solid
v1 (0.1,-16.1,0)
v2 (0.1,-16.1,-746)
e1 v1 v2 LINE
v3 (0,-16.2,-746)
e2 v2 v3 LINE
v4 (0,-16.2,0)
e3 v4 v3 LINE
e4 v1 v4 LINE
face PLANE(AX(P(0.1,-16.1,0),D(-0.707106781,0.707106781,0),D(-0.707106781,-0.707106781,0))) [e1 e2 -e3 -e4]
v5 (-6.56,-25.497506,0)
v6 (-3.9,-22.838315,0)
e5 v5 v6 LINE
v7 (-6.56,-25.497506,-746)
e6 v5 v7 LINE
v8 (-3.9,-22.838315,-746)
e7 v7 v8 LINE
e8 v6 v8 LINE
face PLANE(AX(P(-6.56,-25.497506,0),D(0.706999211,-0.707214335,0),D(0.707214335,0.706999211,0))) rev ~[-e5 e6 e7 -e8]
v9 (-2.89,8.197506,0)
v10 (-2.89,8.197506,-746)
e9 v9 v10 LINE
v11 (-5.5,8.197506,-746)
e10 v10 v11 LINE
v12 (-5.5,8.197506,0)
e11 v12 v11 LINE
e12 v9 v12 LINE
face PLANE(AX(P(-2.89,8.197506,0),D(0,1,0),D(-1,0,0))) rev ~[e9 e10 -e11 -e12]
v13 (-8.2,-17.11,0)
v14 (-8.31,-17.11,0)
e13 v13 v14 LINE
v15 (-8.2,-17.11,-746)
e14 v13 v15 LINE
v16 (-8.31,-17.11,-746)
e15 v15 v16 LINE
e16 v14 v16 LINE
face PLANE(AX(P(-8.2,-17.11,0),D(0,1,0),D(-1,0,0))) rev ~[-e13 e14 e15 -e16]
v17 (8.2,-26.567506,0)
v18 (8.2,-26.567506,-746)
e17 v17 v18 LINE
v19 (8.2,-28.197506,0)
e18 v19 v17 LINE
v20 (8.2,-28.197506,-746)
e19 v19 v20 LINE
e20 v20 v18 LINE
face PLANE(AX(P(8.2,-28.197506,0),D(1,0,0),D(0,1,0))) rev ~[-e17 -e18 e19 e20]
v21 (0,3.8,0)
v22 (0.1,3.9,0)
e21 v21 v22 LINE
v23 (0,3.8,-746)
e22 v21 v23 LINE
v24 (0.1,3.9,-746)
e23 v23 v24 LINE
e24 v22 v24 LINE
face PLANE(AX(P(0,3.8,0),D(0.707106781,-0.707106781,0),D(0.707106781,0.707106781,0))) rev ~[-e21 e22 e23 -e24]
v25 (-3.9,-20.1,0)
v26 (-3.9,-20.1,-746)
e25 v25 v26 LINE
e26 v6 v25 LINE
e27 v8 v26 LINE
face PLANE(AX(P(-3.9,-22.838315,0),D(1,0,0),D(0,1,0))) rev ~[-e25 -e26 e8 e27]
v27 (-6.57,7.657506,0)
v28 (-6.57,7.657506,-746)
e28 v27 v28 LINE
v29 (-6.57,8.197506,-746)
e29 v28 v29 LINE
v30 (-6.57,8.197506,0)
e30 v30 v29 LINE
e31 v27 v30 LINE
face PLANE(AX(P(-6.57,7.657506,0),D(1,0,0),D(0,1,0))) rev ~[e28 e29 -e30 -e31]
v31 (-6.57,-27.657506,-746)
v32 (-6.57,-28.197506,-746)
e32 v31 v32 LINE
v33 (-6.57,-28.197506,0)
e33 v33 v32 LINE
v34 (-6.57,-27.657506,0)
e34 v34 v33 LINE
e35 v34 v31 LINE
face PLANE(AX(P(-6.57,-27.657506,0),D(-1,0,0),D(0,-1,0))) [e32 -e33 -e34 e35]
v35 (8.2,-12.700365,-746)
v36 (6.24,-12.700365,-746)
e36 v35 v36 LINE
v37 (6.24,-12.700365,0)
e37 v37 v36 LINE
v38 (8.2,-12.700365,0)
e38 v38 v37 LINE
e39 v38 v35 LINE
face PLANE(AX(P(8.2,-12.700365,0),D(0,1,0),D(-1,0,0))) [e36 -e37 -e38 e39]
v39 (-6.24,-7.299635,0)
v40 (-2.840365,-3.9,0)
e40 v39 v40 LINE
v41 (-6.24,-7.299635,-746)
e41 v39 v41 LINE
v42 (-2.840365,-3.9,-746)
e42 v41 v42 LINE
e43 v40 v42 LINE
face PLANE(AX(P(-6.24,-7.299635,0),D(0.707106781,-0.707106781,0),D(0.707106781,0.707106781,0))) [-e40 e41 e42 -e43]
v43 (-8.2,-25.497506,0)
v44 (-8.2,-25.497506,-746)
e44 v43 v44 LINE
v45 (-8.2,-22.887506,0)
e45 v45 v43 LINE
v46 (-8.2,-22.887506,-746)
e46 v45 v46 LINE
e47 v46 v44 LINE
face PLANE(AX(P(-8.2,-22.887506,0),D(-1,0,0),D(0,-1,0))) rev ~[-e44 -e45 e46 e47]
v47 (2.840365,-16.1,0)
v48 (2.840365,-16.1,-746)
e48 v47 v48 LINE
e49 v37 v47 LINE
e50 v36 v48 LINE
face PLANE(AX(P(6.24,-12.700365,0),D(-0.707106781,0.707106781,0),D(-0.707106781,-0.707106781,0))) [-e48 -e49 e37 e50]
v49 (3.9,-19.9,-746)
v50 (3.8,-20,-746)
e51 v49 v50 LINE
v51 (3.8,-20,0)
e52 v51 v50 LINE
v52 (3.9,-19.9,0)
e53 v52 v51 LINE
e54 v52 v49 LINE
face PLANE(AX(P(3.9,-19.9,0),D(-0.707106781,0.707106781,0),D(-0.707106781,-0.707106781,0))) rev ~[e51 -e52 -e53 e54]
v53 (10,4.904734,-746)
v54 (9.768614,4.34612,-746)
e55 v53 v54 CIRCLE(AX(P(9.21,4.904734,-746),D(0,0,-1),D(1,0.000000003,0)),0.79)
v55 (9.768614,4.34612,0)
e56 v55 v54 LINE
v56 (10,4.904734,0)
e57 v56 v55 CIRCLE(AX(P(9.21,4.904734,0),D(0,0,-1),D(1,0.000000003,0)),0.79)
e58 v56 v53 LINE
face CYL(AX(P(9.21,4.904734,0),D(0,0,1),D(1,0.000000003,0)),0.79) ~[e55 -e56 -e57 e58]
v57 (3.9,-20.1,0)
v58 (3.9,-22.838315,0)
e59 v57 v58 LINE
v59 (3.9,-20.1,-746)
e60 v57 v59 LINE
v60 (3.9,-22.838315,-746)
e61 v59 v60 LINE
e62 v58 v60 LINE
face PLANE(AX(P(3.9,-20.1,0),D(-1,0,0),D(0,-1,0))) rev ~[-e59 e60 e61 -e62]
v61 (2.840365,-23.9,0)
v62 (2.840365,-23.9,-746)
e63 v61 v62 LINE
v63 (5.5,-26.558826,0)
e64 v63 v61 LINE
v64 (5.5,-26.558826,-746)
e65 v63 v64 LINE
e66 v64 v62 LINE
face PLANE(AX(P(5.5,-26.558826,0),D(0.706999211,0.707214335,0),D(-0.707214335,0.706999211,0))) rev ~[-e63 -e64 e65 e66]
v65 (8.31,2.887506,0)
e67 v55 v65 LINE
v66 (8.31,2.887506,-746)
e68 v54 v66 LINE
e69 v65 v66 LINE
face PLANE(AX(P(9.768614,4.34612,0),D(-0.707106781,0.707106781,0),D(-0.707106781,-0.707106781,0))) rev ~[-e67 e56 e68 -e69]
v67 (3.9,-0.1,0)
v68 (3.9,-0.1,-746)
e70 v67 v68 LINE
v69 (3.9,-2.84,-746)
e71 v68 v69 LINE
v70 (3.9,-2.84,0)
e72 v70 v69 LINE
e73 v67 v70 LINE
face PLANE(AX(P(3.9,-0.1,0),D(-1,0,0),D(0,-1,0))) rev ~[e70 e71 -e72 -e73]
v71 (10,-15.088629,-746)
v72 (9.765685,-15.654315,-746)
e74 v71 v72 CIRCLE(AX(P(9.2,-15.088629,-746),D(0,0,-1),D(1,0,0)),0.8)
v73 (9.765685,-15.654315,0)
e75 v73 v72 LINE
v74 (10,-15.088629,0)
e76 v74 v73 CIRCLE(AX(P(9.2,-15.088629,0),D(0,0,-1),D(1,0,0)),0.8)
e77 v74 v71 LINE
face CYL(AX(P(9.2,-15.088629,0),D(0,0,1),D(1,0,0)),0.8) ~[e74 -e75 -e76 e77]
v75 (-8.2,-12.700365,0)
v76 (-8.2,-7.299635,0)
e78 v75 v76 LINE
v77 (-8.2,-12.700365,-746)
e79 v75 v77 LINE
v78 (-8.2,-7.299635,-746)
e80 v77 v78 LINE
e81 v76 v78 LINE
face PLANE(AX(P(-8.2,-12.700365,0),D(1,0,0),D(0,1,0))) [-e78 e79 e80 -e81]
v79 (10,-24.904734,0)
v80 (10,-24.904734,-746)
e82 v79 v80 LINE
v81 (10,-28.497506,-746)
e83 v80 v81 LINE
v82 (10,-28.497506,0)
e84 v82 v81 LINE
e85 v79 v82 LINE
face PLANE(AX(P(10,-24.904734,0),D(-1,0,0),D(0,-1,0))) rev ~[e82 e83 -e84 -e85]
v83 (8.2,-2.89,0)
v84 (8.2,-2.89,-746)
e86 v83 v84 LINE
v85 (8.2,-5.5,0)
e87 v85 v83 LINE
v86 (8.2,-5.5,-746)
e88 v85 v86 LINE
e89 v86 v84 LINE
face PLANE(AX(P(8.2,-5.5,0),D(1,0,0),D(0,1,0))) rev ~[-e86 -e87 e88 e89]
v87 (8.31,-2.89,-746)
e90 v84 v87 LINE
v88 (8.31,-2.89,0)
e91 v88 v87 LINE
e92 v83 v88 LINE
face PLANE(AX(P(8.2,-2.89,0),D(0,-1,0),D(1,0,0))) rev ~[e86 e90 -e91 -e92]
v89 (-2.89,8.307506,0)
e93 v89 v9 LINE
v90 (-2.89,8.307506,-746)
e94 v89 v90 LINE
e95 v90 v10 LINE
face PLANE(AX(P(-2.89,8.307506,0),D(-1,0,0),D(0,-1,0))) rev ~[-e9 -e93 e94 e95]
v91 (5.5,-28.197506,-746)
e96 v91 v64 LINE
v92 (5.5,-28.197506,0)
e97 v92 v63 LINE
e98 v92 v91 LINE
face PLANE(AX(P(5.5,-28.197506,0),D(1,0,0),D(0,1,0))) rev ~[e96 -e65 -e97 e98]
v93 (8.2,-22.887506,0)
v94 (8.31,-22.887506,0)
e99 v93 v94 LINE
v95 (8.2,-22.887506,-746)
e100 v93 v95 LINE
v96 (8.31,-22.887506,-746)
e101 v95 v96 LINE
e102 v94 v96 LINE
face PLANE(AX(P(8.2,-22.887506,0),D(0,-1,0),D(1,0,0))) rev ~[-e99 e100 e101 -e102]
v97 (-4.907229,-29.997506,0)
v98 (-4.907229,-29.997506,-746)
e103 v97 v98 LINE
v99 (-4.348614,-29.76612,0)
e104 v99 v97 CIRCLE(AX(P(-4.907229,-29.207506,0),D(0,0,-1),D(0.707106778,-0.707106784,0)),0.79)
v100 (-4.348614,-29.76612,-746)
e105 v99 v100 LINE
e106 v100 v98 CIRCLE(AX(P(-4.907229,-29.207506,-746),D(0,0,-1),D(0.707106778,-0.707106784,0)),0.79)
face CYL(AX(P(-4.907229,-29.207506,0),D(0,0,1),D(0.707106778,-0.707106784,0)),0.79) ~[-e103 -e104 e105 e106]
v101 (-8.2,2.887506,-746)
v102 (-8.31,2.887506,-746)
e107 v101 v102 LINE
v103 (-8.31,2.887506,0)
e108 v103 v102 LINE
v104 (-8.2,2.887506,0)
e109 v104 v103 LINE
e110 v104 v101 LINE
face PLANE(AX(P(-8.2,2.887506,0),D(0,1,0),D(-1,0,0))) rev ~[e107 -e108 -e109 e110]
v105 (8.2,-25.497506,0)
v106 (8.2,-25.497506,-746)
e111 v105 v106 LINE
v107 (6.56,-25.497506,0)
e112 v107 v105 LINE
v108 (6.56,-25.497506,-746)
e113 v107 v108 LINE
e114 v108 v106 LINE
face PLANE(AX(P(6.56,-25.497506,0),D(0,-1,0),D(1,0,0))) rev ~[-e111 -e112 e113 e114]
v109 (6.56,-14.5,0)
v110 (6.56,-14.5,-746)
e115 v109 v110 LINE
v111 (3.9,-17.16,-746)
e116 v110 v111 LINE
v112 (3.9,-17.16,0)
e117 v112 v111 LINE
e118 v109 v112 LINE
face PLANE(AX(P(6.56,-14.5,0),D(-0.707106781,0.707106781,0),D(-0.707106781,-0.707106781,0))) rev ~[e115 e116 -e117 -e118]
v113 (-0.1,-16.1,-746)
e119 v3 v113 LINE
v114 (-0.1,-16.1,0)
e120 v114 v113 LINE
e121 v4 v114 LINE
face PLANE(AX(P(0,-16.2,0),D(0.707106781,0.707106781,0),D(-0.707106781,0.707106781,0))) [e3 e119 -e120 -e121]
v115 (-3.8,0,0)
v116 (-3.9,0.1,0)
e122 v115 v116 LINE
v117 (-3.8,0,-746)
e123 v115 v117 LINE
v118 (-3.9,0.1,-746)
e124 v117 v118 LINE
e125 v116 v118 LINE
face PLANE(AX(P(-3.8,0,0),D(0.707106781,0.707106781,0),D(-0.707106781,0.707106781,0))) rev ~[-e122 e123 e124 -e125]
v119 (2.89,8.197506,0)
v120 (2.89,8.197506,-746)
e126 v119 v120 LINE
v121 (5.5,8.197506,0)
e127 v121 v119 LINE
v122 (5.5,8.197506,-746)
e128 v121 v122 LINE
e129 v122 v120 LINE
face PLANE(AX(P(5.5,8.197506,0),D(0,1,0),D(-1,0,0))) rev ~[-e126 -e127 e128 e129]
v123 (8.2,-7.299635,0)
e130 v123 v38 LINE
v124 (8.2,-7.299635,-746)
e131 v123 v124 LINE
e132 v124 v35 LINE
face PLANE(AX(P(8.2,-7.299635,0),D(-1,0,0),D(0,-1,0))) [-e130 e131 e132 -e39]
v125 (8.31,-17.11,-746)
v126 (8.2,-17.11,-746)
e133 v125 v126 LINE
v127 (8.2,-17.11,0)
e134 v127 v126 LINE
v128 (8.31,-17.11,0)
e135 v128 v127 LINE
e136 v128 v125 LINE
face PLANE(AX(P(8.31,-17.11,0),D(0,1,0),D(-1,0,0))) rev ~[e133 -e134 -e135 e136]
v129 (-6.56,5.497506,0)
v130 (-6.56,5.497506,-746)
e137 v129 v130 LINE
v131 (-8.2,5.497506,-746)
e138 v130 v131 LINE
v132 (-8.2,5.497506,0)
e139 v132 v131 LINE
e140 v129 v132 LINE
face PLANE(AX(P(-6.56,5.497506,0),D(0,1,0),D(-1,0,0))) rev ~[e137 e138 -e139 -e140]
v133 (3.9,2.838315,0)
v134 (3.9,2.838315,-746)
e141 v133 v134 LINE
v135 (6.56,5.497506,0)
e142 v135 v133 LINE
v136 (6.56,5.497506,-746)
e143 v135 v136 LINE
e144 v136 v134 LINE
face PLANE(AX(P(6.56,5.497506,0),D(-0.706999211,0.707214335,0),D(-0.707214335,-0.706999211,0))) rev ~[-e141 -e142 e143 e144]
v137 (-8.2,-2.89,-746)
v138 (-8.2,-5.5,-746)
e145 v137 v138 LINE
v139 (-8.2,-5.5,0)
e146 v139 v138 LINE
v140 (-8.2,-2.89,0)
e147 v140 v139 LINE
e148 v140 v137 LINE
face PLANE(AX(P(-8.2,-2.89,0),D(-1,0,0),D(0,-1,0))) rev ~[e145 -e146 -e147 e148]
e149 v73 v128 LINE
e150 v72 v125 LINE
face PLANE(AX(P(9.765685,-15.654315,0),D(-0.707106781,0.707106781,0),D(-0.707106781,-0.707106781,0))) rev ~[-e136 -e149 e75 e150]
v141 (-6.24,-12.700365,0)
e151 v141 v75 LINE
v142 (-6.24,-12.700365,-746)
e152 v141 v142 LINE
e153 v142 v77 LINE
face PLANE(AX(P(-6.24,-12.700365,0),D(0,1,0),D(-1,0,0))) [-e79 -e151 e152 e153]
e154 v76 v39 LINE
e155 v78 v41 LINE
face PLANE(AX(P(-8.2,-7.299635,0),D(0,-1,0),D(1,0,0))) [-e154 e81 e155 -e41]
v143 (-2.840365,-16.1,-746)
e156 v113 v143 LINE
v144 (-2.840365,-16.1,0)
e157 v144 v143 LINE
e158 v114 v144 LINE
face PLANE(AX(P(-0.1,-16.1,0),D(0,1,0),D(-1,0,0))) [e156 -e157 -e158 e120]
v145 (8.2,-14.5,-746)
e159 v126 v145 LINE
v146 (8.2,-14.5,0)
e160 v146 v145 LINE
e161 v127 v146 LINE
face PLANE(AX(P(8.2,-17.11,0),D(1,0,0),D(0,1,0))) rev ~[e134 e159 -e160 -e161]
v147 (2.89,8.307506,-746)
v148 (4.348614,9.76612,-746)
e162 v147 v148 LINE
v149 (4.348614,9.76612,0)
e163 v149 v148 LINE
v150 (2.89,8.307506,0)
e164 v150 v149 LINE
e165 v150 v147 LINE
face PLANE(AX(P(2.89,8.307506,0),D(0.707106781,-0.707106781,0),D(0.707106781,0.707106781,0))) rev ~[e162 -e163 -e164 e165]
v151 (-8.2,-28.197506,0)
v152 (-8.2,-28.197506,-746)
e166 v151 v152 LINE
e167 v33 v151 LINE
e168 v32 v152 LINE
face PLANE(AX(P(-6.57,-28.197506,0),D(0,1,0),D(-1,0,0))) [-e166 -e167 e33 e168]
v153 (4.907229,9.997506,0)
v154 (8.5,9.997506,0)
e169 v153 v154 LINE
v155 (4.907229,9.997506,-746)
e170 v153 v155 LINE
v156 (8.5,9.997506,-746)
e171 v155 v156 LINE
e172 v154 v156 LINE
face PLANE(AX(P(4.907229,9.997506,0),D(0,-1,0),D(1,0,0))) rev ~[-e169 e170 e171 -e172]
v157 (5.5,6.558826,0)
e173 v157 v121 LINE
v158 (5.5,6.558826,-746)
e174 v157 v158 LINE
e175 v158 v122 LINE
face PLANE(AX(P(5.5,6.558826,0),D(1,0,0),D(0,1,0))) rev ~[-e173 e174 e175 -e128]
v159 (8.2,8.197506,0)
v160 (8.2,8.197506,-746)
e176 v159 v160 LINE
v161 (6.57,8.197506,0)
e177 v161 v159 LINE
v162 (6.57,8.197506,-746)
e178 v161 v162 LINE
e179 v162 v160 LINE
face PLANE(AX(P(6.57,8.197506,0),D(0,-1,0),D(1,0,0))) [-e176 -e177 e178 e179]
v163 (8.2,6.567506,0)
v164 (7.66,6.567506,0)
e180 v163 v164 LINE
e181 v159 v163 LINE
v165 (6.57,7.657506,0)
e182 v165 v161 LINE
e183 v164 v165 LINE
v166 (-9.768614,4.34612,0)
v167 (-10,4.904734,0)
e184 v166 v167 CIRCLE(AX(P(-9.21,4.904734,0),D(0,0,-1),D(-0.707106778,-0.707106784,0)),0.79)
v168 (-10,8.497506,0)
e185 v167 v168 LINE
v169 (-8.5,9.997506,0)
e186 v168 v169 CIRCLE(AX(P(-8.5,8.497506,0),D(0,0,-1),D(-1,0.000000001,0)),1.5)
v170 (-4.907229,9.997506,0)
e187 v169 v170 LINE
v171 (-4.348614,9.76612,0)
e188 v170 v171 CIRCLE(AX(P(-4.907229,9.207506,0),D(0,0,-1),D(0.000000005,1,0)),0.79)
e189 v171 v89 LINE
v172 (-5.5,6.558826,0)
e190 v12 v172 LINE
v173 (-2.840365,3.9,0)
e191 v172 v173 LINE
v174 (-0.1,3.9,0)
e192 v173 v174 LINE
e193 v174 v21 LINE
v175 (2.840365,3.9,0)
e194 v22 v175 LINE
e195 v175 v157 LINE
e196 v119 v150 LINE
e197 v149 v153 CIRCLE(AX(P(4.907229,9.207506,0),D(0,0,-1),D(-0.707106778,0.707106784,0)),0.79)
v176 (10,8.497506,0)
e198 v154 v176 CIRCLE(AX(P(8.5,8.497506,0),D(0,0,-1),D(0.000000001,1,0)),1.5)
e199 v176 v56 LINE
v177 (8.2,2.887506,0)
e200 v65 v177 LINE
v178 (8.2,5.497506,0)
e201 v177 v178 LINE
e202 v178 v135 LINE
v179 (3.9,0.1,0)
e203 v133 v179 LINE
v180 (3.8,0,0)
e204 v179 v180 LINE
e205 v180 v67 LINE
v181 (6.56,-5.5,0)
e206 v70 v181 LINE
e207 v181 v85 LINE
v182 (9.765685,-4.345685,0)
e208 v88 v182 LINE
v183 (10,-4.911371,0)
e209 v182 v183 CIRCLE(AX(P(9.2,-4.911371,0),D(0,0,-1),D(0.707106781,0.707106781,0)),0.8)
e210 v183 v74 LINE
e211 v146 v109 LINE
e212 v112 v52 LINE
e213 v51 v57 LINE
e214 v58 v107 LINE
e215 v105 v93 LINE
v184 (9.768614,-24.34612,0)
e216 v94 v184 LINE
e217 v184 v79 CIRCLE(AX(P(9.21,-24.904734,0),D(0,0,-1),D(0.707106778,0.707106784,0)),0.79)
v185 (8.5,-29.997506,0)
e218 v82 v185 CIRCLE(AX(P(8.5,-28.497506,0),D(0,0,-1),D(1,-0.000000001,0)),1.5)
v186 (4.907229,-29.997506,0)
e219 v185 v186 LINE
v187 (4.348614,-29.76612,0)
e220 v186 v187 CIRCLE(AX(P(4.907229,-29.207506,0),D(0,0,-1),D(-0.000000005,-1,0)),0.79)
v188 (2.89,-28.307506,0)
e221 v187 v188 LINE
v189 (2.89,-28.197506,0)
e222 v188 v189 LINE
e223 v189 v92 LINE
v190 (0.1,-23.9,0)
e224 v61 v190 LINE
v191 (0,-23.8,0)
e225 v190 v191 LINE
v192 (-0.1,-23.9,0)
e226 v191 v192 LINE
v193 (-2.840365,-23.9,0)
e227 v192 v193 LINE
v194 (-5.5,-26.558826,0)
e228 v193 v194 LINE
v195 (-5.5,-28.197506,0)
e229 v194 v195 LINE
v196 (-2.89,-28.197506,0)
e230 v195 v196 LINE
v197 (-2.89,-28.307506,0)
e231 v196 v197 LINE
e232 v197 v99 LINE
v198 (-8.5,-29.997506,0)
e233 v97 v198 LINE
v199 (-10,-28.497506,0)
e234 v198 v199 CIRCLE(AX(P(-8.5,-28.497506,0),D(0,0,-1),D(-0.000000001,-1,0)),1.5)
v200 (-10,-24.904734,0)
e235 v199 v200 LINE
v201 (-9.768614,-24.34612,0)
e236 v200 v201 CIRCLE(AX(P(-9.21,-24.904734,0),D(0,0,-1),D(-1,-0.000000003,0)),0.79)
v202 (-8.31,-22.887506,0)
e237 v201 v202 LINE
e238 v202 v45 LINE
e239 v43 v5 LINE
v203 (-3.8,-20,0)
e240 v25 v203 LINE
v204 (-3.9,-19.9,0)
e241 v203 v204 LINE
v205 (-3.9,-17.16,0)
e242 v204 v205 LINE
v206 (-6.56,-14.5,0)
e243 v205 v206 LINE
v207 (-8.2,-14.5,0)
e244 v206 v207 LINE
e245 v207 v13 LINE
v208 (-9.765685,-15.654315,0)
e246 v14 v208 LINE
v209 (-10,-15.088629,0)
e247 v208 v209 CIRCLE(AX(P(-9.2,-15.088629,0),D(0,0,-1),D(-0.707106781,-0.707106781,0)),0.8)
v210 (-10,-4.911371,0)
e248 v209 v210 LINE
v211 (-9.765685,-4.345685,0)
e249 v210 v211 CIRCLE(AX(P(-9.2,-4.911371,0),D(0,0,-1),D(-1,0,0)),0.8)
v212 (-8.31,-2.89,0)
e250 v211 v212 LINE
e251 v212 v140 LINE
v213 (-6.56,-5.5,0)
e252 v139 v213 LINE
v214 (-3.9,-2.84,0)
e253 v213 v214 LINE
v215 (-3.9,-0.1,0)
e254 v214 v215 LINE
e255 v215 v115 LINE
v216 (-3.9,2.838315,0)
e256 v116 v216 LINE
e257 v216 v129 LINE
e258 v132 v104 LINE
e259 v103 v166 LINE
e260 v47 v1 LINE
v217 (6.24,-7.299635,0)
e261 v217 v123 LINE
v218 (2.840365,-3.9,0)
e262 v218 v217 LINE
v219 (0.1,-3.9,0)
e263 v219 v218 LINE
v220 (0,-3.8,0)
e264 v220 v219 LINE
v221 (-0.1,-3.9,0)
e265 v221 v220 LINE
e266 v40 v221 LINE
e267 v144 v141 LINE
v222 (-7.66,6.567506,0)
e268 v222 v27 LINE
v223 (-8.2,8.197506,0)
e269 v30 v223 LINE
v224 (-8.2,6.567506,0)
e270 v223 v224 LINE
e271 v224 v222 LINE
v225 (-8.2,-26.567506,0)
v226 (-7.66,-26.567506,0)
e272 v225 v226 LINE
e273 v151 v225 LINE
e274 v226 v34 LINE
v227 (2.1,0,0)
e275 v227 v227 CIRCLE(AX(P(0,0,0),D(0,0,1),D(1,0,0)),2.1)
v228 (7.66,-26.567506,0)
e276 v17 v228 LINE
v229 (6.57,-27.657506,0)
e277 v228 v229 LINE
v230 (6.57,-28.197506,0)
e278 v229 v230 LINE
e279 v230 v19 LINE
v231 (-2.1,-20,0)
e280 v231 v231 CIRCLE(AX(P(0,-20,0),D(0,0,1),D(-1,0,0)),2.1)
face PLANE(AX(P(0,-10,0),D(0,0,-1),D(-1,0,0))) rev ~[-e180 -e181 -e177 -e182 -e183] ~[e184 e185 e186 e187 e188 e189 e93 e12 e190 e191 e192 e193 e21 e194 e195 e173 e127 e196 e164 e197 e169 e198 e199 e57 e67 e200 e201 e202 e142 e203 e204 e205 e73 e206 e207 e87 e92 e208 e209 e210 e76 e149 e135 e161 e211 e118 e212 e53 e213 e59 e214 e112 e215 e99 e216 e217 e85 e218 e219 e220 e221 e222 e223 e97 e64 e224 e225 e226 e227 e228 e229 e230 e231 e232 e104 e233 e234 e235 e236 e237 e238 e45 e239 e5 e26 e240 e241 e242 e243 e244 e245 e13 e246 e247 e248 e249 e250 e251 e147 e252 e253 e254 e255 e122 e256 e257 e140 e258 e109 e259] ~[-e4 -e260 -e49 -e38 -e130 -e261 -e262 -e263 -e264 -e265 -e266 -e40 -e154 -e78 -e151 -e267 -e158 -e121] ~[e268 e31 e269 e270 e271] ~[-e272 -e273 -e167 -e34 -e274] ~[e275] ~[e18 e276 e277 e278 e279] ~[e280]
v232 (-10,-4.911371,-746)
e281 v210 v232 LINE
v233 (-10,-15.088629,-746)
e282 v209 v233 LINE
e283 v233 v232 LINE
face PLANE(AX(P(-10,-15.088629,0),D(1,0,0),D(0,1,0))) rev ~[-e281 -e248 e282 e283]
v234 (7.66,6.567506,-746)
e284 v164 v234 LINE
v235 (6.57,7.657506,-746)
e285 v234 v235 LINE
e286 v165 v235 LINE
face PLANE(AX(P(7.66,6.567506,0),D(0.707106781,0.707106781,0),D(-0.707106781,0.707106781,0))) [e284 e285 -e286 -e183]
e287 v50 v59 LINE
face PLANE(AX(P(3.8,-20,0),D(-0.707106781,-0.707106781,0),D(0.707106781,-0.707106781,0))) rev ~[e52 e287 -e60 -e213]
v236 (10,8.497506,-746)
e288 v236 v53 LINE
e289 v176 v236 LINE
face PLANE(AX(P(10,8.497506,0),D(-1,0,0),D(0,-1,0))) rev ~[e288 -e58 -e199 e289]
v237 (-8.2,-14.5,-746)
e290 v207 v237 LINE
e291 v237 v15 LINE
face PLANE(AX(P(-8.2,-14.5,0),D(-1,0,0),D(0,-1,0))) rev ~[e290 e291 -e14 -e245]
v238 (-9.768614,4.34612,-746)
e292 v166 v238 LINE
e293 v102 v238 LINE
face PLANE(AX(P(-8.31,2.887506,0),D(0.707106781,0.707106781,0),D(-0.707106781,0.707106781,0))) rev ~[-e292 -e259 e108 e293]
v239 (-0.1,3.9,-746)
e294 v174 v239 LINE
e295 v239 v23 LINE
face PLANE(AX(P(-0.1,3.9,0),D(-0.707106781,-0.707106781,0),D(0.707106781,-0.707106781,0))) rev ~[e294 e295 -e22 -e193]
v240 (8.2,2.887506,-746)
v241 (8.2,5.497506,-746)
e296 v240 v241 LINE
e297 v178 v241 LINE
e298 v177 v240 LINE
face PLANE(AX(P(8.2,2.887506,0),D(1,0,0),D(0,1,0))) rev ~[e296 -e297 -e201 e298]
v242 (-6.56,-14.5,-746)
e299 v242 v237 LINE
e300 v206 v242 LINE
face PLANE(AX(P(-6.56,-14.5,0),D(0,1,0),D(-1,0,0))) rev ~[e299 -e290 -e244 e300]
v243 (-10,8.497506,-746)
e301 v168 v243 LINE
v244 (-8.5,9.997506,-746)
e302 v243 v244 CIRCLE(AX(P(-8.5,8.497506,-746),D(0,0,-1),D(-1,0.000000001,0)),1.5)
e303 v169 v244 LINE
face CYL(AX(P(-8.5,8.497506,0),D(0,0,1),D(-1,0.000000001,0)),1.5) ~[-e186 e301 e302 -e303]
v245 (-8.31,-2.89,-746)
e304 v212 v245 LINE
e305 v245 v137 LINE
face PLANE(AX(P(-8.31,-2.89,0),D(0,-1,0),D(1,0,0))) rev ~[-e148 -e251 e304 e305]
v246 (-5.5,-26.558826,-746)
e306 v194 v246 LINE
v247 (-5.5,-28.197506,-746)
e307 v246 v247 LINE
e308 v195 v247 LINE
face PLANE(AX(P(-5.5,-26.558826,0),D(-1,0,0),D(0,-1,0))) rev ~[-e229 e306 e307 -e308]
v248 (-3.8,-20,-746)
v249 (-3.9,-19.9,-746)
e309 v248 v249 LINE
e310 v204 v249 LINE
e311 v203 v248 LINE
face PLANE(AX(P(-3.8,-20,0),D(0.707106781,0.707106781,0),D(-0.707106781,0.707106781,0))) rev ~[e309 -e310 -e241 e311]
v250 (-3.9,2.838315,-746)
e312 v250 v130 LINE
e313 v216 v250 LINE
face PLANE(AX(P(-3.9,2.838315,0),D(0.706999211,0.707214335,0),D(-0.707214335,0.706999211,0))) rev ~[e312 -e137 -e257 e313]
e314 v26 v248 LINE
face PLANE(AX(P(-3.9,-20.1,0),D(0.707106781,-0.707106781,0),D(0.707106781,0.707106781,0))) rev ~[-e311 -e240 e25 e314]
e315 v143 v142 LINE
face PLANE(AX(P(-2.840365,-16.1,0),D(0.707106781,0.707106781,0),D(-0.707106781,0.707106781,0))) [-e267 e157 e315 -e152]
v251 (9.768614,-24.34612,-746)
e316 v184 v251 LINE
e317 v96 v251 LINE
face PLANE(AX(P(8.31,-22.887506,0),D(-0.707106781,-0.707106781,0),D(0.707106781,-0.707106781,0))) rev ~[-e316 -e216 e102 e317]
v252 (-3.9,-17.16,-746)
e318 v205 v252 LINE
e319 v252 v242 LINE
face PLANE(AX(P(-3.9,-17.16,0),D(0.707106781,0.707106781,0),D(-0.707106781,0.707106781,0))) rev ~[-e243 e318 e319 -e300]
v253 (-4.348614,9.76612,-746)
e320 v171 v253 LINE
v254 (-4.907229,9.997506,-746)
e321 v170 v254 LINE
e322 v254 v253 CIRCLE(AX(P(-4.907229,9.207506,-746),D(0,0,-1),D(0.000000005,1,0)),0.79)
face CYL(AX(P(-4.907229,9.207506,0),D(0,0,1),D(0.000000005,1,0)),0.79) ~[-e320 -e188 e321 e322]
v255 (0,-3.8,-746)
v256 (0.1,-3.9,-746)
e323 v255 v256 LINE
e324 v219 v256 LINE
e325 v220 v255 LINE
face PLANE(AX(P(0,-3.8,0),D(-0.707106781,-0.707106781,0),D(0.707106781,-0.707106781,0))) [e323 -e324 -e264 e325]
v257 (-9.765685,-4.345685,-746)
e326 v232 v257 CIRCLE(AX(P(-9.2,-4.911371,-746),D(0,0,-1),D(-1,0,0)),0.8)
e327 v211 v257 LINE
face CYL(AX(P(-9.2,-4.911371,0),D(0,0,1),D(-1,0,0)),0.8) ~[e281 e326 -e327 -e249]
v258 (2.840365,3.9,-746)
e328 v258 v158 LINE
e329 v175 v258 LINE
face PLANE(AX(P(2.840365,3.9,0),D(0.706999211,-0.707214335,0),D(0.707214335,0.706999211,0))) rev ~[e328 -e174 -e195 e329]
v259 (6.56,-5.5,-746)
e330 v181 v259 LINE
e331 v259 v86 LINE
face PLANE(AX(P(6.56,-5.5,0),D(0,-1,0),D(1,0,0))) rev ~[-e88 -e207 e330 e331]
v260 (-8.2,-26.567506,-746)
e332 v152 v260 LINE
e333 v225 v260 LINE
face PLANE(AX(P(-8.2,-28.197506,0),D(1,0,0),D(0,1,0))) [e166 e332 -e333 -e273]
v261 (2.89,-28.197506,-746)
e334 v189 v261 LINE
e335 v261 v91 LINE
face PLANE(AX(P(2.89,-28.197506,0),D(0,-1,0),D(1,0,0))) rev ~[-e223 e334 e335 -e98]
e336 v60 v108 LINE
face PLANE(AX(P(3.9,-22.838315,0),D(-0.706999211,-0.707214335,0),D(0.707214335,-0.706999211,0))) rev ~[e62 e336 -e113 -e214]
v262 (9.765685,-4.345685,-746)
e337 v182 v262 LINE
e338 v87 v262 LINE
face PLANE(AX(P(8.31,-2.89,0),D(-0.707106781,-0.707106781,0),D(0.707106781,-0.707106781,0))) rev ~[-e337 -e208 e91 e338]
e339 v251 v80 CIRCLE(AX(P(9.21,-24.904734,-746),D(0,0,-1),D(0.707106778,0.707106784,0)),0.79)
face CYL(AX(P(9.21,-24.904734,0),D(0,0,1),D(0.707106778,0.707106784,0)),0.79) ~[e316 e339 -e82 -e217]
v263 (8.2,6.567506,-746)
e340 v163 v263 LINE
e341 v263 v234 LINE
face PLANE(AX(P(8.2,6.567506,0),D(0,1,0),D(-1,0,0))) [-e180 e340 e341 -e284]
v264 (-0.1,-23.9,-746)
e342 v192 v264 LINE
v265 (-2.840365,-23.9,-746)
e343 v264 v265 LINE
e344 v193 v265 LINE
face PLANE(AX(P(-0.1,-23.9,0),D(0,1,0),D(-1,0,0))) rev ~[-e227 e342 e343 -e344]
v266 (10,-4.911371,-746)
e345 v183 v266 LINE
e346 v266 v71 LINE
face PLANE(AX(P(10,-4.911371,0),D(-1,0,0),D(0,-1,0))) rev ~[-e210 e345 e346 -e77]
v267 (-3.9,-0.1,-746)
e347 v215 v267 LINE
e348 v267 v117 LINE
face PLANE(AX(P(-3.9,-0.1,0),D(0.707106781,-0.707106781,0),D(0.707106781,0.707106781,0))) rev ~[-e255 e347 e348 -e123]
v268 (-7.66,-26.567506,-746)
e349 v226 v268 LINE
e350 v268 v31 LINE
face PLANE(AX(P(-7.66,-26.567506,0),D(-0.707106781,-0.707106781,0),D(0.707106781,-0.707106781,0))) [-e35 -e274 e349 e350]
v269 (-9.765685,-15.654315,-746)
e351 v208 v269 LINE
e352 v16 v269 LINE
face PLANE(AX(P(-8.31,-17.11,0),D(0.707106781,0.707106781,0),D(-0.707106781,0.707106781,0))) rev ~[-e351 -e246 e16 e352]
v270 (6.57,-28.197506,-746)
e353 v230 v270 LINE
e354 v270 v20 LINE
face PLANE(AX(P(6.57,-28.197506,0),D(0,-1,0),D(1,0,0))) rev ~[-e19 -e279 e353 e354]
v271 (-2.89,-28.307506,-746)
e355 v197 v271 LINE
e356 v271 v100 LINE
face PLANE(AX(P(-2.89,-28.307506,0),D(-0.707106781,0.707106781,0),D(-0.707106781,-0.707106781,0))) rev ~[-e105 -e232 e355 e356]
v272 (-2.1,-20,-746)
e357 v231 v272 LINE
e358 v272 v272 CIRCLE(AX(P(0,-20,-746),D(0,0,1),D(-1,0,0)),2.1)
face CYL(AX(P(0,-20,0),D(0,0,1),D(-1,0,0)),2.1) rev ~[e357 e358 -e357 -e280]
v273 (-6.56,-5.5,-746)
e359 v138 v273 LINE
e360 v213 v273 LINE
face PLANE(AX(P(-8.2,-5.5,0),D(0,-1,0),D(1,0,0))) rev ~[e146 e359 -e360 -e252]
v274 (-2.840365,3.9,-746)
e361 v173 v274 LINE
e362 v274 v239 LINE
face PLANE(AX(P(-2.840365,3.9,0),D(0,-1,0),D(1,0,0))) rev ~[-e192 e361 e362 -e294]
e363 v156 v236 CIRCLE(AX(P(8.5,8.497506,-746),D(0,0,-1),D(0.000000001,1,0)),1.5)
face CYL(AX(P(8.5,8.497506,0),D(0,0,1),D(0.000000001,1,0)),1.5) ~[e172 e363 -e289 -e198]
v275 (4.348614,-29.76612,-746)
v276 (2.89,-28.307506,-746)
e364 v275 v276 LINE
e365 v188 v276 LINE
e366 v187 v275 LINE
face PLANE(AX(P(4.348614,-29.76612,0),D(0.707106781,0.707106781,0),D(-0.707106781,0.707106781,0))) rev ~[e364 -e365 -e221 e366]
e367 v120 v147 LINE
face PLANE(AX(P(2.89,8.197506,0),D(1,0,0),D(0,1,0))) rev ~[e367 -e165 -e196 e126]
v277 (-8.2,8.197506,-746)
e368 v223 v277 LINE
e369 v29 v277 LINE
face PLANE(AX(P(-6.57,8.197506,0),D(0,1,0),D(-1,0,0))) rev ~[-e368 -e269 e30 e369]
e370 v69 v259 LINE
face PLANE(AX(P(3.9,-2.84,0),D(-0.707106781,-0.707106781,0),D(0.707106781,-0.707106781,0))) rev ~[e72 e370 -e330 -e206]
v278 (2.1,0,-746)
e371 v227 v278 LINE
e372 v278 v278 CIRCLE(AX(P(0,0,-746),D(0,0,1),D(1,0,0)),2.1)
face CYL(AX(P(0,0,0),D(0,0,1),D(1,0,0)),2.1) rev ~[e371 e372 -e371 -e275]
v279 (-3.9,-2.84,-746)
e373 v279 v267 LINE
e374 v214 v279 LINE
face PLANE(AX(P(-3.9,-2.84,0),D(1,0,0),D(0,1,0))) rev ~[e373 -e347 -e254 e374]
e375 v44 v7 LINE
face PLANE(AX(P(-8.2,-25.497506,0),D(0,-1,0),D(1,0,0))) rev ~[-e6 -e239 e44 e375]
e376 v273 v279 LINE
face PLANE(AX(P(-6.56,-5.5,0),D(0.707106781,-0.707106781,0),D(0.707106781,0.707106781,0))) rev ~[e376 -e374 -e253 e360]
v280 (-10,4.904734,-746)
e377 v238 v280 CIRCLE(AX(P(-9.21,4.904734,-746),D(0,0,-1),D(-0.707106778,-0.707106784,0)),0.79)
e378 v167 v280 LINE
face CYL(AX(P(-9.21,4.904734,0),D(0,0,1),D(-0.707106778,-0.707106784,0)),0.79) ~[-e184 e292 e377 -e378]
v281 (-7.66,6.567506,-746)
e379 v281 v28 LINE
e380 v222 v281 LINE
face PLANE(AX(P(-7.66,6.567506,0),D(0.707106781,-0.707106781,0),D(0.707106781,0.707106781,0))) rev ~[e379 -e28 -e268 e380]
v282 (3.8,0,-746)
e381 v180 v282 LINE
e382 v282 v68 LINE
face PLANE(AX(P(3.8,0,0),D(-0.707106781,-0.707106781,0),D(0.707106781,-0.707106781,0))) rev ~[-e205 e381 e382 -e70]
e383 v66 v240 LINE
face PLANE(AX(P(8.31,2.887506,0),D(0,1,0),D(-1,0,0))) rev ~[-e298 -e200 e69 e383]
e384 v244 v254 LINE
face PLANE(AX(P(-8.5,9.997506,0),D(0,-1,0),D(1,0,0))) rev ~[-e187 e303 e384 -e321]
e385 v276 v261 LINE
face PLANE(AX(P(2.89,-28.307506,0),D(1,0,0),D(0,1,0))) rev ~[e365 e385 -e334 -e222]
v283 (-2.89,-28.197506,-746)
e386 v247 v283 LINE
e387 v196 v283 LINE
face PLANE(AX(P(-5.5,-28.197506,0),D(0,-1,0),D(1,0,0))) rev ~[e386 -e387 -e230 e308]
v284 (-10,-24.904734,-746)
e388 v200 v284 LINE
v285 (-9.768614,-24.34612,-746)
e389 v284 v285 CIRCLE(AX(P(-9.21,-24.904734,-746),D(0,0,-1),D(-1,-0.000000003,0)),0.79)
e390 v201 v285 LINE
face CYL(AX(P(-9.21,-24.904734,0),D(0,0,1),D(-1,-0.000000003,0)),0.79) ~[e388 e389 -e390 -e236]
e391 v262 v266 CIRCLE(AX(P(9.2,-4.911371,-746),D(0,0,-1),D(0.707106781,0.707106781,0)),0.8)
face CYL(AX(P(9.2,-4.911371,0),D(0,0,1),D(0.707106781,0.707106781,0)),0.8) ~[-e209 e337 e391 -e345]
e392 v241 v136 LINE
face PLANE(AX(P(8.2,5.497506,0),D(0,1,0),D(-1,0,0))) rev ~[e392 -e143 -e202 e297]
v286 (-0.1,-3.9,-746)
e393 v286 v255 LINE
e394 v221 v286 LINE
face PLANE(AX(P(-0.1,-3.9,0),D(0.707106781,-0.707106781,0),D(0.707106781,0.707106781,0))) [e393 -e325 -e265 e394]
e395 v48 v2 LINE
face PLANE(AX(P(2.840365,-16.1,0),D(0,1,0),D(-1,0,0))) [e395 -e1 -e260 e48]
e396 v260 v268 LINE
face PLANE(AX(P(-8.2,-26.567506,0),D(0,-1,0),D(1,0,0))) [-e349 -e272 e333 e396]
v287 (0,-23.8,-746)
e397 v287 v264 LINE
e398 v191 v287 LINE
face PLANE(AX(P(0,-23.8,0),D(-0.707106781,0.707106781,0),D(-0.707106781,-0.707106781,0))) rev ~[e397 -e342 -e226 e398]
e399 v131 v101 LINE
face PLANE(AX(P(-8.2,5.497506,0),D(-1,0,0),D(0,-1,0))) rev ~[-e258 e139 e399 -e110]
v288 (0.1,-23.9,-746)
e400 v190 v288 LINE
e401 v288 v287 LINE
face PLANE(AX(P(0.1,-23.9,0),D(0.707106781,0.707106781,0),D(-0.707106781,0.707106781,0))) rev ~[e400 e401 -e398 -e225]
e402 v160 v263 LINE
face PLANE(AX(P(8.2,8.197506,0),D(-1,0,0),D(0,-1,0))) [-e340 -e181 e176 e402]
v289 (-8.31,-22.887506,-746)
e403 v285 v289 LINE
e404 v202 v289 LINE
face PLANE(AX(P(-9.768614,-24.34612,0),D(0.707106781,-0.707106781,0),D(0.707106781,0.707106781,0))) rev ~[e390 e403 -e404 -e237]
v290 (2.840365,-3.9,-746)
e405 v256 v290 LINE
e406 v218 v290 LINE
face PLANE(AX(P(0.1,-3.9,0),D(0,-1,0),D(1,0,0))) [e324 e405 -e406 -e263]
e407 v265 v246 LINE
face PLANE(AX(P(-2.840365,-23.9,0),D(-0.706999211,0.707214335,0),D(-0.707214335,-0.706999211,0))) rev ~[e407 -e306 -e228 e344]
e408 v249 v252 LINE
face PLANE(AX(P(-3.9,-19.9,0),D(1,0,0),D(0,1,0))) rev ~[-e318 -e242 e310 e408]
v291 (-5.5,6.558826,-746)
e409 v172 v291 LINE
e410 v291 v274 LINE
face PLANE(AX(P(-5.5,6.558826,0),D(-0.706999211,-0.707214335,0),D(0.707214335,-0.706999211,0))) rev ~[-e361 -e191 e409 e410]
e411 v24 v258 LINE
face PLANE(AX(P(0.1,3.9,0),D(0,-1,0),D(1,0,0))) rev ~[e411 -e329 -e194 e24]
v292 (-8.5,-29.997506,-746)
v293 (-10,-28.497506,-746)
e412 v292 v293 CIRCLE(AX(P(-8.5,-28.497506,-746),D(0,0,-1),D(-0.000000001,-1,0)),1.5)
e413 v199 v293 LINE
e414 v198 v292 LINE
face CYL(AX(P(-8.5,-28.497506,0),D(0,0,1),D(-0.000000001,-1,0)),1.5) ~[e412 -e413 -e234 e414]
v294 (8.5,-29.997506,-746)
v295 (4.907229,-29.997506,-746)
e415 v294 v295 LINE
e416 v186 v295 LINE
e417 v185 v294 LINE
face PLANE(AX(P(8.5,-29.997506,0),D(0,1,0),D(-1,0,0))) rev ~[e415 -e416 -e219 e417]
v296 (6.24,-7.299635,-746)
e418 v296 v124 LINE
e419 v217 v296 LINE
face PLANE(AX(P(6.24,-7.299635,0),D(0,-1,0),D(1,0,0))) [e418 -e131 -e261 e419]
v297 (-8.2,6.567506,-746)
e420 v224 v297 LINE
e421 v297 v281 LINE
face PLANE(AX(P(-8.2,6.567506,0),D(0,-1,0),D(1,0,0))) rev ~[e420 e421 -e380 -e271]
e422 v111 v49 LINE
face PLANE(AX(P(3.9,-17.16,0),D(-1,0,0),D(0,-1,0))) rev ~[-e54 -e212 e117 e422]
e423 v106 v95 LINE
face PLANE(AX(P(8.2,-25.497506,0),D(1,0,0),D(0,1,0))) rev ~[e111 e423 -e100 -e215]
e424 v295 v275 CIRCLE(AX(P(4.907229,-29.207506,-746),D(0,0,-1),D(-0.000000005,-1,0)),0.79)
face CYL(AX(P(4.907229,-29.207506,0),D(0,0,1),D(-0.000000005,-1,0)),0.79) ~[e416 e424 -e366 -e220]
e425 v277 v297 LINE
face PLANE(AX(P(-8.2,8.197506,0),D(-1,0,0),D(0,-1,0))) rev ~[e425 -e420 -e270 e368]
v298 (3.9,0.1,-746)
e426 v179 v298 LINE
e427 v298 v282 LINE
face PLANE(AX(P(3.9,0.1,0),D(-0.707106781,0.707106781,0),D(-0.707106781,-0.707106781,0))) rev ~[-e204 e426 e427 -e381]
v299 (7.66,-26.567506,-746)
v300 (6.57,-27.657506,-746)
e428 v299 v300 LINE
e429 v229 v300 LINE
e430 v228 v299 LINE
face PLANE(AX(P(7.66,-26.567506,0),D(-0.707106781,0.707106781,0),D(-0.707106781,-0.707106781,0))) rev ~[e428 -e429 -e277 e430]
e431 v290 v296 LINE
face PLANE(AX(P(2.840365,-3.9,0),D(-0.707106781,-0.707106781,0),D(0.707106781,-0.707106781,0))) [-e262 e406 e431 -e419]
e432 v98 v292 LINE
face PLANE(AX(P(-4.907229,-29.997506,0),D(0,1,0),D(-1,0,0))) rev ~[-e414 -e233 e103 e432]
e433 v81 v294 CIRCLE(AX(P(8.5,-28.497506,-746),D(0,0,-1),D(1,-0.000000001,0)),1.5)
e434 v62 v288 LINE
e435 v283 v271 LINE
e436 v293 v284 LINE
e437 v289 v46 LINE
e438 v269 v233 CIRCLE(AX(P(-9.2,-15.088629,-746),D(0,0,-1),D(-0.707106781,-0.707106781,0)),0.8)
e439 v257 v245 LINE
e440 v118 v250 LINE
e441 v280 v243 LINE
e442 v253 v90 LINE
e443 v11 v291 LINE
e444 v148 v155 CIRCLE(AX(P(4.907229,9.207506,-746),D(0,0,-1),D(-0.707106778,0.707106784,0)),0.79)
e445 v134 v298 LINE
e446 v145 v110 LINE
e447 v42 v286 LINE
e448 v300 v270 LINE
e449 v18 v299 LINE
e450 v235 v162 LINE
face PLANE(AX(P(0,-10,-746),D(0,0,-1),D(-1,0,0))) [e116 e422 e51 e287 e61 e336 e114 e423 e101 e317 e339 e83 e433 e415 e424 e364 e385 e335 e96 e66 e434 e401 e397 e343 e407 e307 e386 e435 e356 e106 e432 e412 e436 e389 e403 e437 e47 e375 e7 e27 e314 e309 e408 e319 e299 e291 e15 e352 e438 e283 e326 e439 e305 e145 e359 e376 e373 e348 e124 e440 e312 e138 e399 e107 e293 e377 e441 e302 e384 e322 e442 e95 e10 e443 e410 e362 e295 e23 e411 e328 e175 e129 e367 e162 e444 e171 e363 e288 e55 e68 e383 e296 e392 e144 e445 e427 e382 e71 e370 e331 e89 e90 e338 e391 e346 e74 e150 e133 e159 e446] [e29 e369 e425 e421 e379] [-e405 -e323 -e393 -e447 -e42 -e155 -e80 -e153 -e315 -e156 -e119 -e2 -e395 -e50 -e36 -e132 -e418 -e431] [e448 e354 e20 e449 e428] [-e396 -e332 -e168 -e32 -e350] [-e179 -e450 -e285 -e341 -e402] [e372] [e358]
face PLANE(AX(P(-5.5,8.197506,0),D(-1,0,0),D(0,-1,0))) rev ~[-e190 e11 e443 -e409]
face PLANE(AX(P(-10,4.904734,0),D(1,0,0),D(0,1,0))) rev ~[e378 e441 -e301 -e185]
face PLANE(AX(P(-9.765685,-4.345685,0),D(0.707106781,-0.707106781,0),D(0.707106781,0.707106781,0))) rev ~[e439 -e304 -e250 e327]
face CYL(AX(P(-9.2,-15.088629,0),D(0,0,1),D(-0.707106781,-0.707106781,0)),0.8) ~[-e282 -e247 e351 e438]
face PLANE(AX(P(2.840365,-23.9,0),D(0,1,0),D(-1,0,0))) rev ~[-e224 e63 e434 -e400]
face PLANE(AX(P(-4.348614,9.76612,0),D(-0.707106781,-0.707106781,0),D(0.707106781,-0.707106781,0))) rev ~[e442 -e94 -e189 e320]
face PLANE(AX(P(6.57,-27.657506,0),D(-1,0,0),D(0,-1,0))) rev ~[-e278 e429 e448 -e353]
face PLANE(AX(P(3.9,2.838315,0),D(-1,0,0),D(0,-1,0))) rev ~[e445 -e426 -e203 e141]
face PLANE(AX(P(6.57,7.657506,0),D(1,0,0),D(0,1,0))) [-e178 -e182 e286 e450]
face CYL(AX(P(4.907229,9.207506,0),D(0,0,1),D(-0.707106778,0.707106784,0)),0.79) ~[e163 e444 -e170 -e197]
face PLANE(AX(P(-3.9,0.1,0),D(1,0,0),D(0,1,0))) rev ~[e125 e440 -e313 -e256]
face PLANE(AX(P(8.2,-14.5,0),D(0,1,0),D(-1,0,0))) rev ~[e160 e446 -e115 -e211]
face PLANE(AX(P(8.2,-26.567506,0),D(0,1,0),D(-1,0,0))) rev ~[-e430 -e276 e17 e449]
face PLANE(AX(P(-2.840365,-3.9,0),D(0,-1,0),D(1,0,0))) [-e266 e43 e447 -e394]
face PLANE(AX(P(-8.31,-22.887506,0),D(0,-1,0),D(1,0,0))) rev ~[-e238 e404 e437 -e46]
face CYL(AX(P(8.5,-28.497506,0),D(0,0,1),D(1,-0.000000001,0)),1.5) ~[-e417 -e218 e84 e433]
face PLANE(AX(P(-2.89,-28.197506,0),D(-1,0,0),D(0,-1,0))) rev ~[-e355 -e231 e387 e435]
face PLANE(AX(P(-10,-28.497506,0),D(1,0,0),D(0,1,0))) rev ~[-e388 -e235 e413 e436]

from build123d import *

# Parameters (mm, degrees)
SKETCH2_R           = 2.1
BOSS_EXTRUDE1_DEPTH = 746


with BuildPart() as part:
    # Sketch2 → Boss-Extrude1 (new body)
    with BuildSketch(Plane.XY):
        with BuildLine():
            Line((-0.1, 3.9), (0, 3.8))
            Line((0, 3.8), (0.1, 3.9))
            Line((0.1, 3.9), (2.840365134, 3.9))
            Line((2.840365134, 3.9), (5.5, 6.558825842))
            Line((5.5, 6.558825842), (5.5, 8.197505675))
            Line((5.5, 8.197505675), (2.89, 8.197505675))
            Line((2.89, 8.197505675), (2.89, 8.307505675))
            Line((2.89, 8.307505675), (4.348614357, 9.766120032))
            ThreePointArc((4.348614357, 9.766120032), (4.604908803, 9.937370505), (4.907228714, 9.997505675))
            Line((4.907228714, 9.997505675), (8.5, 9.997505675))
            ThreePointArc((8.5, 9.997505675), (9.560660172, 9.558165846), (10, 8.497505675))
            Line((10, 8.497505675), (10, 4.904734389))
            ThreePointArc((10, 4.904734389), (9.939864831, 4.602414477), (9.768614357, 4.346120032))
            Line((9.768614357, 4.346120032), (8.31, 2.887505675))
            Line((8.31, 2.887505675), (8.2, 2.887505675))
            Line((8.2, 2.887505675), (8.2, 5.497505675))
            Line((8.2, 5.497505675), (6.56, 5.497505675))
            Line((6.56, 5.497505675), (3.9, 2.83831481))
            Line((3.9, 2.83831481), (3.9, 0.1))
            Line((3.9, 0.1), (3.8, 0))
            Line((3.8, 0), (3.9, -0.1))
            Line((3.9, -0.1), (3.9, -2.84))
            Line((3.9, -2.84), (6.56, -5.5))
            Line((6.56, -5.5), (8.2, -5.5))
            Line((8.2, -5.5), (8.2, -2.89))
            Line((8.2, -2.89), (8.31, -2.89))
            Line((8.31, -2.89), (9.765685425, -4.345685425))
            ThreePointArc((9.765685425, -4.345685425), (9.939103626, -4.605224104), (10, -4.91137085))
            Line((10, -4.91137085), (10, -15.08862915))
            ThreePointArc((10, -15.08862915), (9.939103626, -15.394775896), (9.765685425, -15.654314575))
            Line((9.765685425, -15.654314575), (8.31, -17.11))
            Line((8.31, -17.11), (8.2, -17.11))
            Line((8.2, -17.11), (8.2, -14.5))
            Line((8.2, -14.5), (6.56, -14.5))
            Line((6.56, -14.5), (3.9, -17.16))
            Line((3.9, -17.16), (3.9, -19.9))
            Line((3.9, -19.9), (3.8, -20))
            Line((3.8, -20), (3.9, -20.1))
            Line((3.9, -20.1), (3.9, -22.83831481))
            Line((3.9, -22.83831481), (6.56, -25.497505675))
            Line((6.56, -25.497505675), (8.2, -25.497505675))
            Line((8.2, -25.497505675), (8.2, -22.887505675))
            Line((8.2, -22.887505675), (8.31, -22.887505675))
            Line((8.31, -22.887505675), (9.768614357, -24.346120032))
            ThreePointArc((9.768614357, -24.346120032), (9.939864831, -24.602414477), (10, -24.904734389))
            Line((10, -24.904734389), (10, -28.497505675))
            ThreePointArc((10, -28.497505675), (9.560660172, -29.558165846), (8.5, -29.997505675))
            Line((8.5, -29.997505675), (4.907228714, -29.997505675))
            ThreePointArc((4.907228714, -29.997505675), (4.604908803, -29.937370505), (4.348614357, -29.766120032))
            Line((4.348614357, -29.766120032), (2.89, -28.307505675))
            Line((2.89, -28.307505675), (2.89, -28.197505675))
            Line((2.89, -28.197505675), (5.5, -28.197505675))
            Line((5.5, -28.197505675), (5.5, -26.558825842))
            Line((5.5, -26.558825842), (2.840365134, -23.9))
            Line((2.840365134, -23.9), (0.1, -23.9))
            Line((0.1, -23.9), (0, -23.8))
            Line((0, -23.8), (-0.1, -23.9))
            Line((-0.1, -23.9), (-2.840365134, -23.9))
            Line((-2.840365134, -23.9), (-5.5, -26.558825842))
            Line((-5.5, -26.558825842), (-5.5, -28.197505675))
            Line((-5.5, -28.197505675), (-2.89, -28.197505675))
            Line((-2.89, -28.197505675), (-2.89, -28.307505675))
            Line((-2.89, -28.307505675), (-4.348614357, -29.766120032))
            ThreePointArc((-4.348614357, -29.766120032), (-4.604908803, -29.937370505), (-4.907228714, -29.997505675))
            Line((-4.907228714, -29.997505675), (-8.5, -29.997505675))
            ThreePointArc((-8.5, -29.997505675), (-9.560660172, -29.558165846), (-10, -28.497505675))
            Line((-10, -28.497505675), (-10, -24.904734389))
            ThreePointArc((-10, -24.904734389), (-9.939864831, -24.602414477), (-9.768614357, -24.346120032))
            Line((-9.768614357, -24.346120032), (-8.31, -22.887505675))
            Line((-8.31, -22.887505675), (-8.2, -22.887505675))
            Line((-8.2, -22.887505675), (-8.2, -25.497505675))
            Line((-8.2, -25.497505675), (-6.56, -25.497505675))
            Line((-6.56, -25.497505675), (-3.9, -22.83831481))
            Line((-3.9, -22.83831481), (-3.9, -20.1))
            Line((-3.9, -20.1), (-3.8, -20))
            Line((-3.8, -20), (-3.9, -19.9))
            Line((-3.9, -19.9), (-3.9, -17.16))
            Line((-3.9, -17.16), (-6.56, -14.5))
            Line((-6.56, -14.5), (-8.2, -14.5))
            Line((-8.2, -14.5), (-8.2, -17.11))
            Line((-8.2, -17.11), (-8.31, -17.11))
            Line((-8.31, -17.11), (-9.765685425, -15.654314575))
            ThreePointArc((-9.765685425, -15.654314575), (-9.939103626, -15.394775896), (-10, -15.08862915))
            Line((-10, -15.08862915), (-10, -4.91137085))
            ThreePointArc((-10, -4.91137085), (-9.939103626, -4.605224104), (-9.765685425, -4.345685425))
            Line((-9.765685425, -4.345685425), (-8.31, -2.89))
            Line((-8.31, -2.89), (-8.2, -2.89))
            Line((-8.2, -2.89), (-8.2, -5.5))
            Line((-8.2, -5.5), (-6.56, -5.5))
            Line((-6.56, -5.5), (-3.9, -2.84))
            Line((-3.9, -2.84), (-3.9, -0.1))
            Line((-3.9, -0.1), (-3.8, 0))
            Line((-3.8, 0), (-3.9, 0.1))
            Line((-3.9, 0.1), (-3.9, 2.83831481))
            Line((-3.9, 2.83831481), (-6.56, 5.497505675))
            Line((-6.56, 5.497505675), (-8.2, 5.497505675))
            Line((-8.2, 5.497505675), (-8.2, 2.887505675))
            Line((-8.2, 2.887505675), (-8.31, 2.887505675))
            Line((-8.31, 2.887505675), (-9.768614357, 4.346120032))
            ThreePointArc((-9.768614357, 4.346120032), (-9.939864831, 4.602414477), (-10, 4.904734389))
            Line((-10, 4.904734389), (-10, 8.497505675))
            ThreePointArc((-10, 8.497505675), (-9.560660172, 9.558165846), (-8.5, 9.997505675))
            Line((-8.5, 9.997505675), (-4.907228714, 9.997505675))
            ThreePointArc((-4.907228714, 9.997505675), (-4.604908803, 9.937370505), (-4.348614357, 9.766120032))
            Line((-4.348614357, 9.766120032), (-2.89, 8.307505675))
            Line((-2.89, 8.307505675), (-2.89, 8.197505675))
            Line((-2.89, 8.197505675), (-5.5, 8.197505675))
            Line((-5.5, 8.197505675), (-5.5, 6.558825842))
            Line((-5.5, 6.558825842), (-2.840365134, 3.9))
            Line((-2.840365134, 3.9), (-0.1, 3.9))
        make_face()
        Circle(SKETCH2_R, mode=Mode.SUBTRACT)
        with Locations(Location((0, -20, 0), (0, 0, 180))):
            Circle(SKETCH2_R, mode=Mode.SUBTRACT)
        Polygon((-7.66, 6.567505675), (-6.57, 7.657505675), (-6.57, 8.197505675), (-8.2, 8.197505675), (-8.2, 6.567505675), align=None, mode=Mode.SUBTRACT)
        Polygon((-0.1, -3.9), (0, -3.8), (0.1, -3.9), (2.840365134, -3.9), (6.24, -7.299634866), (8.2, -7.299634866), (8.2, -12.700365134), (6.24, -12.700365134), (2.840365134, -16.1), (0.1, -16.1), (0, -16.2), (-0.1, -16.1), (-2.840365134, -16.1), (-6.24, -12.700365134), (-8.2, -12.700365134), (-8.2, -7.299634866), (-6.24, -7.299634866), (-2.840365134, -3.9), align=None, mode=Mode.SUBTRACT)
        Polygon((8.2, 6.567505675), (7.66, 6.567505675), (6.57, 7.657505675), (6.57, 8.197505675), (8.2, 8.197505675), align=None, mode=Mode.SUBTRACT)
        Polygon((7.66, -26.567505675), (6.57, -27.657505675), (6.57, -28.197505675), (8.2, -28.197505675), (8.2, -26.567505675), align=None, mode=Mode.SUBTRACT)
        Polygon((-8.2, -26.567505675), (-7.66, -26.567505675), (-6.57, -27.657505675), (-6.57, -28.197505675), (-8.2, -28.197505675), align=None, mode=Mode.SUBTRACT)
    extrude(amount=-BOSS_EXTRUDE1_DEPTH)


solid = part.part
